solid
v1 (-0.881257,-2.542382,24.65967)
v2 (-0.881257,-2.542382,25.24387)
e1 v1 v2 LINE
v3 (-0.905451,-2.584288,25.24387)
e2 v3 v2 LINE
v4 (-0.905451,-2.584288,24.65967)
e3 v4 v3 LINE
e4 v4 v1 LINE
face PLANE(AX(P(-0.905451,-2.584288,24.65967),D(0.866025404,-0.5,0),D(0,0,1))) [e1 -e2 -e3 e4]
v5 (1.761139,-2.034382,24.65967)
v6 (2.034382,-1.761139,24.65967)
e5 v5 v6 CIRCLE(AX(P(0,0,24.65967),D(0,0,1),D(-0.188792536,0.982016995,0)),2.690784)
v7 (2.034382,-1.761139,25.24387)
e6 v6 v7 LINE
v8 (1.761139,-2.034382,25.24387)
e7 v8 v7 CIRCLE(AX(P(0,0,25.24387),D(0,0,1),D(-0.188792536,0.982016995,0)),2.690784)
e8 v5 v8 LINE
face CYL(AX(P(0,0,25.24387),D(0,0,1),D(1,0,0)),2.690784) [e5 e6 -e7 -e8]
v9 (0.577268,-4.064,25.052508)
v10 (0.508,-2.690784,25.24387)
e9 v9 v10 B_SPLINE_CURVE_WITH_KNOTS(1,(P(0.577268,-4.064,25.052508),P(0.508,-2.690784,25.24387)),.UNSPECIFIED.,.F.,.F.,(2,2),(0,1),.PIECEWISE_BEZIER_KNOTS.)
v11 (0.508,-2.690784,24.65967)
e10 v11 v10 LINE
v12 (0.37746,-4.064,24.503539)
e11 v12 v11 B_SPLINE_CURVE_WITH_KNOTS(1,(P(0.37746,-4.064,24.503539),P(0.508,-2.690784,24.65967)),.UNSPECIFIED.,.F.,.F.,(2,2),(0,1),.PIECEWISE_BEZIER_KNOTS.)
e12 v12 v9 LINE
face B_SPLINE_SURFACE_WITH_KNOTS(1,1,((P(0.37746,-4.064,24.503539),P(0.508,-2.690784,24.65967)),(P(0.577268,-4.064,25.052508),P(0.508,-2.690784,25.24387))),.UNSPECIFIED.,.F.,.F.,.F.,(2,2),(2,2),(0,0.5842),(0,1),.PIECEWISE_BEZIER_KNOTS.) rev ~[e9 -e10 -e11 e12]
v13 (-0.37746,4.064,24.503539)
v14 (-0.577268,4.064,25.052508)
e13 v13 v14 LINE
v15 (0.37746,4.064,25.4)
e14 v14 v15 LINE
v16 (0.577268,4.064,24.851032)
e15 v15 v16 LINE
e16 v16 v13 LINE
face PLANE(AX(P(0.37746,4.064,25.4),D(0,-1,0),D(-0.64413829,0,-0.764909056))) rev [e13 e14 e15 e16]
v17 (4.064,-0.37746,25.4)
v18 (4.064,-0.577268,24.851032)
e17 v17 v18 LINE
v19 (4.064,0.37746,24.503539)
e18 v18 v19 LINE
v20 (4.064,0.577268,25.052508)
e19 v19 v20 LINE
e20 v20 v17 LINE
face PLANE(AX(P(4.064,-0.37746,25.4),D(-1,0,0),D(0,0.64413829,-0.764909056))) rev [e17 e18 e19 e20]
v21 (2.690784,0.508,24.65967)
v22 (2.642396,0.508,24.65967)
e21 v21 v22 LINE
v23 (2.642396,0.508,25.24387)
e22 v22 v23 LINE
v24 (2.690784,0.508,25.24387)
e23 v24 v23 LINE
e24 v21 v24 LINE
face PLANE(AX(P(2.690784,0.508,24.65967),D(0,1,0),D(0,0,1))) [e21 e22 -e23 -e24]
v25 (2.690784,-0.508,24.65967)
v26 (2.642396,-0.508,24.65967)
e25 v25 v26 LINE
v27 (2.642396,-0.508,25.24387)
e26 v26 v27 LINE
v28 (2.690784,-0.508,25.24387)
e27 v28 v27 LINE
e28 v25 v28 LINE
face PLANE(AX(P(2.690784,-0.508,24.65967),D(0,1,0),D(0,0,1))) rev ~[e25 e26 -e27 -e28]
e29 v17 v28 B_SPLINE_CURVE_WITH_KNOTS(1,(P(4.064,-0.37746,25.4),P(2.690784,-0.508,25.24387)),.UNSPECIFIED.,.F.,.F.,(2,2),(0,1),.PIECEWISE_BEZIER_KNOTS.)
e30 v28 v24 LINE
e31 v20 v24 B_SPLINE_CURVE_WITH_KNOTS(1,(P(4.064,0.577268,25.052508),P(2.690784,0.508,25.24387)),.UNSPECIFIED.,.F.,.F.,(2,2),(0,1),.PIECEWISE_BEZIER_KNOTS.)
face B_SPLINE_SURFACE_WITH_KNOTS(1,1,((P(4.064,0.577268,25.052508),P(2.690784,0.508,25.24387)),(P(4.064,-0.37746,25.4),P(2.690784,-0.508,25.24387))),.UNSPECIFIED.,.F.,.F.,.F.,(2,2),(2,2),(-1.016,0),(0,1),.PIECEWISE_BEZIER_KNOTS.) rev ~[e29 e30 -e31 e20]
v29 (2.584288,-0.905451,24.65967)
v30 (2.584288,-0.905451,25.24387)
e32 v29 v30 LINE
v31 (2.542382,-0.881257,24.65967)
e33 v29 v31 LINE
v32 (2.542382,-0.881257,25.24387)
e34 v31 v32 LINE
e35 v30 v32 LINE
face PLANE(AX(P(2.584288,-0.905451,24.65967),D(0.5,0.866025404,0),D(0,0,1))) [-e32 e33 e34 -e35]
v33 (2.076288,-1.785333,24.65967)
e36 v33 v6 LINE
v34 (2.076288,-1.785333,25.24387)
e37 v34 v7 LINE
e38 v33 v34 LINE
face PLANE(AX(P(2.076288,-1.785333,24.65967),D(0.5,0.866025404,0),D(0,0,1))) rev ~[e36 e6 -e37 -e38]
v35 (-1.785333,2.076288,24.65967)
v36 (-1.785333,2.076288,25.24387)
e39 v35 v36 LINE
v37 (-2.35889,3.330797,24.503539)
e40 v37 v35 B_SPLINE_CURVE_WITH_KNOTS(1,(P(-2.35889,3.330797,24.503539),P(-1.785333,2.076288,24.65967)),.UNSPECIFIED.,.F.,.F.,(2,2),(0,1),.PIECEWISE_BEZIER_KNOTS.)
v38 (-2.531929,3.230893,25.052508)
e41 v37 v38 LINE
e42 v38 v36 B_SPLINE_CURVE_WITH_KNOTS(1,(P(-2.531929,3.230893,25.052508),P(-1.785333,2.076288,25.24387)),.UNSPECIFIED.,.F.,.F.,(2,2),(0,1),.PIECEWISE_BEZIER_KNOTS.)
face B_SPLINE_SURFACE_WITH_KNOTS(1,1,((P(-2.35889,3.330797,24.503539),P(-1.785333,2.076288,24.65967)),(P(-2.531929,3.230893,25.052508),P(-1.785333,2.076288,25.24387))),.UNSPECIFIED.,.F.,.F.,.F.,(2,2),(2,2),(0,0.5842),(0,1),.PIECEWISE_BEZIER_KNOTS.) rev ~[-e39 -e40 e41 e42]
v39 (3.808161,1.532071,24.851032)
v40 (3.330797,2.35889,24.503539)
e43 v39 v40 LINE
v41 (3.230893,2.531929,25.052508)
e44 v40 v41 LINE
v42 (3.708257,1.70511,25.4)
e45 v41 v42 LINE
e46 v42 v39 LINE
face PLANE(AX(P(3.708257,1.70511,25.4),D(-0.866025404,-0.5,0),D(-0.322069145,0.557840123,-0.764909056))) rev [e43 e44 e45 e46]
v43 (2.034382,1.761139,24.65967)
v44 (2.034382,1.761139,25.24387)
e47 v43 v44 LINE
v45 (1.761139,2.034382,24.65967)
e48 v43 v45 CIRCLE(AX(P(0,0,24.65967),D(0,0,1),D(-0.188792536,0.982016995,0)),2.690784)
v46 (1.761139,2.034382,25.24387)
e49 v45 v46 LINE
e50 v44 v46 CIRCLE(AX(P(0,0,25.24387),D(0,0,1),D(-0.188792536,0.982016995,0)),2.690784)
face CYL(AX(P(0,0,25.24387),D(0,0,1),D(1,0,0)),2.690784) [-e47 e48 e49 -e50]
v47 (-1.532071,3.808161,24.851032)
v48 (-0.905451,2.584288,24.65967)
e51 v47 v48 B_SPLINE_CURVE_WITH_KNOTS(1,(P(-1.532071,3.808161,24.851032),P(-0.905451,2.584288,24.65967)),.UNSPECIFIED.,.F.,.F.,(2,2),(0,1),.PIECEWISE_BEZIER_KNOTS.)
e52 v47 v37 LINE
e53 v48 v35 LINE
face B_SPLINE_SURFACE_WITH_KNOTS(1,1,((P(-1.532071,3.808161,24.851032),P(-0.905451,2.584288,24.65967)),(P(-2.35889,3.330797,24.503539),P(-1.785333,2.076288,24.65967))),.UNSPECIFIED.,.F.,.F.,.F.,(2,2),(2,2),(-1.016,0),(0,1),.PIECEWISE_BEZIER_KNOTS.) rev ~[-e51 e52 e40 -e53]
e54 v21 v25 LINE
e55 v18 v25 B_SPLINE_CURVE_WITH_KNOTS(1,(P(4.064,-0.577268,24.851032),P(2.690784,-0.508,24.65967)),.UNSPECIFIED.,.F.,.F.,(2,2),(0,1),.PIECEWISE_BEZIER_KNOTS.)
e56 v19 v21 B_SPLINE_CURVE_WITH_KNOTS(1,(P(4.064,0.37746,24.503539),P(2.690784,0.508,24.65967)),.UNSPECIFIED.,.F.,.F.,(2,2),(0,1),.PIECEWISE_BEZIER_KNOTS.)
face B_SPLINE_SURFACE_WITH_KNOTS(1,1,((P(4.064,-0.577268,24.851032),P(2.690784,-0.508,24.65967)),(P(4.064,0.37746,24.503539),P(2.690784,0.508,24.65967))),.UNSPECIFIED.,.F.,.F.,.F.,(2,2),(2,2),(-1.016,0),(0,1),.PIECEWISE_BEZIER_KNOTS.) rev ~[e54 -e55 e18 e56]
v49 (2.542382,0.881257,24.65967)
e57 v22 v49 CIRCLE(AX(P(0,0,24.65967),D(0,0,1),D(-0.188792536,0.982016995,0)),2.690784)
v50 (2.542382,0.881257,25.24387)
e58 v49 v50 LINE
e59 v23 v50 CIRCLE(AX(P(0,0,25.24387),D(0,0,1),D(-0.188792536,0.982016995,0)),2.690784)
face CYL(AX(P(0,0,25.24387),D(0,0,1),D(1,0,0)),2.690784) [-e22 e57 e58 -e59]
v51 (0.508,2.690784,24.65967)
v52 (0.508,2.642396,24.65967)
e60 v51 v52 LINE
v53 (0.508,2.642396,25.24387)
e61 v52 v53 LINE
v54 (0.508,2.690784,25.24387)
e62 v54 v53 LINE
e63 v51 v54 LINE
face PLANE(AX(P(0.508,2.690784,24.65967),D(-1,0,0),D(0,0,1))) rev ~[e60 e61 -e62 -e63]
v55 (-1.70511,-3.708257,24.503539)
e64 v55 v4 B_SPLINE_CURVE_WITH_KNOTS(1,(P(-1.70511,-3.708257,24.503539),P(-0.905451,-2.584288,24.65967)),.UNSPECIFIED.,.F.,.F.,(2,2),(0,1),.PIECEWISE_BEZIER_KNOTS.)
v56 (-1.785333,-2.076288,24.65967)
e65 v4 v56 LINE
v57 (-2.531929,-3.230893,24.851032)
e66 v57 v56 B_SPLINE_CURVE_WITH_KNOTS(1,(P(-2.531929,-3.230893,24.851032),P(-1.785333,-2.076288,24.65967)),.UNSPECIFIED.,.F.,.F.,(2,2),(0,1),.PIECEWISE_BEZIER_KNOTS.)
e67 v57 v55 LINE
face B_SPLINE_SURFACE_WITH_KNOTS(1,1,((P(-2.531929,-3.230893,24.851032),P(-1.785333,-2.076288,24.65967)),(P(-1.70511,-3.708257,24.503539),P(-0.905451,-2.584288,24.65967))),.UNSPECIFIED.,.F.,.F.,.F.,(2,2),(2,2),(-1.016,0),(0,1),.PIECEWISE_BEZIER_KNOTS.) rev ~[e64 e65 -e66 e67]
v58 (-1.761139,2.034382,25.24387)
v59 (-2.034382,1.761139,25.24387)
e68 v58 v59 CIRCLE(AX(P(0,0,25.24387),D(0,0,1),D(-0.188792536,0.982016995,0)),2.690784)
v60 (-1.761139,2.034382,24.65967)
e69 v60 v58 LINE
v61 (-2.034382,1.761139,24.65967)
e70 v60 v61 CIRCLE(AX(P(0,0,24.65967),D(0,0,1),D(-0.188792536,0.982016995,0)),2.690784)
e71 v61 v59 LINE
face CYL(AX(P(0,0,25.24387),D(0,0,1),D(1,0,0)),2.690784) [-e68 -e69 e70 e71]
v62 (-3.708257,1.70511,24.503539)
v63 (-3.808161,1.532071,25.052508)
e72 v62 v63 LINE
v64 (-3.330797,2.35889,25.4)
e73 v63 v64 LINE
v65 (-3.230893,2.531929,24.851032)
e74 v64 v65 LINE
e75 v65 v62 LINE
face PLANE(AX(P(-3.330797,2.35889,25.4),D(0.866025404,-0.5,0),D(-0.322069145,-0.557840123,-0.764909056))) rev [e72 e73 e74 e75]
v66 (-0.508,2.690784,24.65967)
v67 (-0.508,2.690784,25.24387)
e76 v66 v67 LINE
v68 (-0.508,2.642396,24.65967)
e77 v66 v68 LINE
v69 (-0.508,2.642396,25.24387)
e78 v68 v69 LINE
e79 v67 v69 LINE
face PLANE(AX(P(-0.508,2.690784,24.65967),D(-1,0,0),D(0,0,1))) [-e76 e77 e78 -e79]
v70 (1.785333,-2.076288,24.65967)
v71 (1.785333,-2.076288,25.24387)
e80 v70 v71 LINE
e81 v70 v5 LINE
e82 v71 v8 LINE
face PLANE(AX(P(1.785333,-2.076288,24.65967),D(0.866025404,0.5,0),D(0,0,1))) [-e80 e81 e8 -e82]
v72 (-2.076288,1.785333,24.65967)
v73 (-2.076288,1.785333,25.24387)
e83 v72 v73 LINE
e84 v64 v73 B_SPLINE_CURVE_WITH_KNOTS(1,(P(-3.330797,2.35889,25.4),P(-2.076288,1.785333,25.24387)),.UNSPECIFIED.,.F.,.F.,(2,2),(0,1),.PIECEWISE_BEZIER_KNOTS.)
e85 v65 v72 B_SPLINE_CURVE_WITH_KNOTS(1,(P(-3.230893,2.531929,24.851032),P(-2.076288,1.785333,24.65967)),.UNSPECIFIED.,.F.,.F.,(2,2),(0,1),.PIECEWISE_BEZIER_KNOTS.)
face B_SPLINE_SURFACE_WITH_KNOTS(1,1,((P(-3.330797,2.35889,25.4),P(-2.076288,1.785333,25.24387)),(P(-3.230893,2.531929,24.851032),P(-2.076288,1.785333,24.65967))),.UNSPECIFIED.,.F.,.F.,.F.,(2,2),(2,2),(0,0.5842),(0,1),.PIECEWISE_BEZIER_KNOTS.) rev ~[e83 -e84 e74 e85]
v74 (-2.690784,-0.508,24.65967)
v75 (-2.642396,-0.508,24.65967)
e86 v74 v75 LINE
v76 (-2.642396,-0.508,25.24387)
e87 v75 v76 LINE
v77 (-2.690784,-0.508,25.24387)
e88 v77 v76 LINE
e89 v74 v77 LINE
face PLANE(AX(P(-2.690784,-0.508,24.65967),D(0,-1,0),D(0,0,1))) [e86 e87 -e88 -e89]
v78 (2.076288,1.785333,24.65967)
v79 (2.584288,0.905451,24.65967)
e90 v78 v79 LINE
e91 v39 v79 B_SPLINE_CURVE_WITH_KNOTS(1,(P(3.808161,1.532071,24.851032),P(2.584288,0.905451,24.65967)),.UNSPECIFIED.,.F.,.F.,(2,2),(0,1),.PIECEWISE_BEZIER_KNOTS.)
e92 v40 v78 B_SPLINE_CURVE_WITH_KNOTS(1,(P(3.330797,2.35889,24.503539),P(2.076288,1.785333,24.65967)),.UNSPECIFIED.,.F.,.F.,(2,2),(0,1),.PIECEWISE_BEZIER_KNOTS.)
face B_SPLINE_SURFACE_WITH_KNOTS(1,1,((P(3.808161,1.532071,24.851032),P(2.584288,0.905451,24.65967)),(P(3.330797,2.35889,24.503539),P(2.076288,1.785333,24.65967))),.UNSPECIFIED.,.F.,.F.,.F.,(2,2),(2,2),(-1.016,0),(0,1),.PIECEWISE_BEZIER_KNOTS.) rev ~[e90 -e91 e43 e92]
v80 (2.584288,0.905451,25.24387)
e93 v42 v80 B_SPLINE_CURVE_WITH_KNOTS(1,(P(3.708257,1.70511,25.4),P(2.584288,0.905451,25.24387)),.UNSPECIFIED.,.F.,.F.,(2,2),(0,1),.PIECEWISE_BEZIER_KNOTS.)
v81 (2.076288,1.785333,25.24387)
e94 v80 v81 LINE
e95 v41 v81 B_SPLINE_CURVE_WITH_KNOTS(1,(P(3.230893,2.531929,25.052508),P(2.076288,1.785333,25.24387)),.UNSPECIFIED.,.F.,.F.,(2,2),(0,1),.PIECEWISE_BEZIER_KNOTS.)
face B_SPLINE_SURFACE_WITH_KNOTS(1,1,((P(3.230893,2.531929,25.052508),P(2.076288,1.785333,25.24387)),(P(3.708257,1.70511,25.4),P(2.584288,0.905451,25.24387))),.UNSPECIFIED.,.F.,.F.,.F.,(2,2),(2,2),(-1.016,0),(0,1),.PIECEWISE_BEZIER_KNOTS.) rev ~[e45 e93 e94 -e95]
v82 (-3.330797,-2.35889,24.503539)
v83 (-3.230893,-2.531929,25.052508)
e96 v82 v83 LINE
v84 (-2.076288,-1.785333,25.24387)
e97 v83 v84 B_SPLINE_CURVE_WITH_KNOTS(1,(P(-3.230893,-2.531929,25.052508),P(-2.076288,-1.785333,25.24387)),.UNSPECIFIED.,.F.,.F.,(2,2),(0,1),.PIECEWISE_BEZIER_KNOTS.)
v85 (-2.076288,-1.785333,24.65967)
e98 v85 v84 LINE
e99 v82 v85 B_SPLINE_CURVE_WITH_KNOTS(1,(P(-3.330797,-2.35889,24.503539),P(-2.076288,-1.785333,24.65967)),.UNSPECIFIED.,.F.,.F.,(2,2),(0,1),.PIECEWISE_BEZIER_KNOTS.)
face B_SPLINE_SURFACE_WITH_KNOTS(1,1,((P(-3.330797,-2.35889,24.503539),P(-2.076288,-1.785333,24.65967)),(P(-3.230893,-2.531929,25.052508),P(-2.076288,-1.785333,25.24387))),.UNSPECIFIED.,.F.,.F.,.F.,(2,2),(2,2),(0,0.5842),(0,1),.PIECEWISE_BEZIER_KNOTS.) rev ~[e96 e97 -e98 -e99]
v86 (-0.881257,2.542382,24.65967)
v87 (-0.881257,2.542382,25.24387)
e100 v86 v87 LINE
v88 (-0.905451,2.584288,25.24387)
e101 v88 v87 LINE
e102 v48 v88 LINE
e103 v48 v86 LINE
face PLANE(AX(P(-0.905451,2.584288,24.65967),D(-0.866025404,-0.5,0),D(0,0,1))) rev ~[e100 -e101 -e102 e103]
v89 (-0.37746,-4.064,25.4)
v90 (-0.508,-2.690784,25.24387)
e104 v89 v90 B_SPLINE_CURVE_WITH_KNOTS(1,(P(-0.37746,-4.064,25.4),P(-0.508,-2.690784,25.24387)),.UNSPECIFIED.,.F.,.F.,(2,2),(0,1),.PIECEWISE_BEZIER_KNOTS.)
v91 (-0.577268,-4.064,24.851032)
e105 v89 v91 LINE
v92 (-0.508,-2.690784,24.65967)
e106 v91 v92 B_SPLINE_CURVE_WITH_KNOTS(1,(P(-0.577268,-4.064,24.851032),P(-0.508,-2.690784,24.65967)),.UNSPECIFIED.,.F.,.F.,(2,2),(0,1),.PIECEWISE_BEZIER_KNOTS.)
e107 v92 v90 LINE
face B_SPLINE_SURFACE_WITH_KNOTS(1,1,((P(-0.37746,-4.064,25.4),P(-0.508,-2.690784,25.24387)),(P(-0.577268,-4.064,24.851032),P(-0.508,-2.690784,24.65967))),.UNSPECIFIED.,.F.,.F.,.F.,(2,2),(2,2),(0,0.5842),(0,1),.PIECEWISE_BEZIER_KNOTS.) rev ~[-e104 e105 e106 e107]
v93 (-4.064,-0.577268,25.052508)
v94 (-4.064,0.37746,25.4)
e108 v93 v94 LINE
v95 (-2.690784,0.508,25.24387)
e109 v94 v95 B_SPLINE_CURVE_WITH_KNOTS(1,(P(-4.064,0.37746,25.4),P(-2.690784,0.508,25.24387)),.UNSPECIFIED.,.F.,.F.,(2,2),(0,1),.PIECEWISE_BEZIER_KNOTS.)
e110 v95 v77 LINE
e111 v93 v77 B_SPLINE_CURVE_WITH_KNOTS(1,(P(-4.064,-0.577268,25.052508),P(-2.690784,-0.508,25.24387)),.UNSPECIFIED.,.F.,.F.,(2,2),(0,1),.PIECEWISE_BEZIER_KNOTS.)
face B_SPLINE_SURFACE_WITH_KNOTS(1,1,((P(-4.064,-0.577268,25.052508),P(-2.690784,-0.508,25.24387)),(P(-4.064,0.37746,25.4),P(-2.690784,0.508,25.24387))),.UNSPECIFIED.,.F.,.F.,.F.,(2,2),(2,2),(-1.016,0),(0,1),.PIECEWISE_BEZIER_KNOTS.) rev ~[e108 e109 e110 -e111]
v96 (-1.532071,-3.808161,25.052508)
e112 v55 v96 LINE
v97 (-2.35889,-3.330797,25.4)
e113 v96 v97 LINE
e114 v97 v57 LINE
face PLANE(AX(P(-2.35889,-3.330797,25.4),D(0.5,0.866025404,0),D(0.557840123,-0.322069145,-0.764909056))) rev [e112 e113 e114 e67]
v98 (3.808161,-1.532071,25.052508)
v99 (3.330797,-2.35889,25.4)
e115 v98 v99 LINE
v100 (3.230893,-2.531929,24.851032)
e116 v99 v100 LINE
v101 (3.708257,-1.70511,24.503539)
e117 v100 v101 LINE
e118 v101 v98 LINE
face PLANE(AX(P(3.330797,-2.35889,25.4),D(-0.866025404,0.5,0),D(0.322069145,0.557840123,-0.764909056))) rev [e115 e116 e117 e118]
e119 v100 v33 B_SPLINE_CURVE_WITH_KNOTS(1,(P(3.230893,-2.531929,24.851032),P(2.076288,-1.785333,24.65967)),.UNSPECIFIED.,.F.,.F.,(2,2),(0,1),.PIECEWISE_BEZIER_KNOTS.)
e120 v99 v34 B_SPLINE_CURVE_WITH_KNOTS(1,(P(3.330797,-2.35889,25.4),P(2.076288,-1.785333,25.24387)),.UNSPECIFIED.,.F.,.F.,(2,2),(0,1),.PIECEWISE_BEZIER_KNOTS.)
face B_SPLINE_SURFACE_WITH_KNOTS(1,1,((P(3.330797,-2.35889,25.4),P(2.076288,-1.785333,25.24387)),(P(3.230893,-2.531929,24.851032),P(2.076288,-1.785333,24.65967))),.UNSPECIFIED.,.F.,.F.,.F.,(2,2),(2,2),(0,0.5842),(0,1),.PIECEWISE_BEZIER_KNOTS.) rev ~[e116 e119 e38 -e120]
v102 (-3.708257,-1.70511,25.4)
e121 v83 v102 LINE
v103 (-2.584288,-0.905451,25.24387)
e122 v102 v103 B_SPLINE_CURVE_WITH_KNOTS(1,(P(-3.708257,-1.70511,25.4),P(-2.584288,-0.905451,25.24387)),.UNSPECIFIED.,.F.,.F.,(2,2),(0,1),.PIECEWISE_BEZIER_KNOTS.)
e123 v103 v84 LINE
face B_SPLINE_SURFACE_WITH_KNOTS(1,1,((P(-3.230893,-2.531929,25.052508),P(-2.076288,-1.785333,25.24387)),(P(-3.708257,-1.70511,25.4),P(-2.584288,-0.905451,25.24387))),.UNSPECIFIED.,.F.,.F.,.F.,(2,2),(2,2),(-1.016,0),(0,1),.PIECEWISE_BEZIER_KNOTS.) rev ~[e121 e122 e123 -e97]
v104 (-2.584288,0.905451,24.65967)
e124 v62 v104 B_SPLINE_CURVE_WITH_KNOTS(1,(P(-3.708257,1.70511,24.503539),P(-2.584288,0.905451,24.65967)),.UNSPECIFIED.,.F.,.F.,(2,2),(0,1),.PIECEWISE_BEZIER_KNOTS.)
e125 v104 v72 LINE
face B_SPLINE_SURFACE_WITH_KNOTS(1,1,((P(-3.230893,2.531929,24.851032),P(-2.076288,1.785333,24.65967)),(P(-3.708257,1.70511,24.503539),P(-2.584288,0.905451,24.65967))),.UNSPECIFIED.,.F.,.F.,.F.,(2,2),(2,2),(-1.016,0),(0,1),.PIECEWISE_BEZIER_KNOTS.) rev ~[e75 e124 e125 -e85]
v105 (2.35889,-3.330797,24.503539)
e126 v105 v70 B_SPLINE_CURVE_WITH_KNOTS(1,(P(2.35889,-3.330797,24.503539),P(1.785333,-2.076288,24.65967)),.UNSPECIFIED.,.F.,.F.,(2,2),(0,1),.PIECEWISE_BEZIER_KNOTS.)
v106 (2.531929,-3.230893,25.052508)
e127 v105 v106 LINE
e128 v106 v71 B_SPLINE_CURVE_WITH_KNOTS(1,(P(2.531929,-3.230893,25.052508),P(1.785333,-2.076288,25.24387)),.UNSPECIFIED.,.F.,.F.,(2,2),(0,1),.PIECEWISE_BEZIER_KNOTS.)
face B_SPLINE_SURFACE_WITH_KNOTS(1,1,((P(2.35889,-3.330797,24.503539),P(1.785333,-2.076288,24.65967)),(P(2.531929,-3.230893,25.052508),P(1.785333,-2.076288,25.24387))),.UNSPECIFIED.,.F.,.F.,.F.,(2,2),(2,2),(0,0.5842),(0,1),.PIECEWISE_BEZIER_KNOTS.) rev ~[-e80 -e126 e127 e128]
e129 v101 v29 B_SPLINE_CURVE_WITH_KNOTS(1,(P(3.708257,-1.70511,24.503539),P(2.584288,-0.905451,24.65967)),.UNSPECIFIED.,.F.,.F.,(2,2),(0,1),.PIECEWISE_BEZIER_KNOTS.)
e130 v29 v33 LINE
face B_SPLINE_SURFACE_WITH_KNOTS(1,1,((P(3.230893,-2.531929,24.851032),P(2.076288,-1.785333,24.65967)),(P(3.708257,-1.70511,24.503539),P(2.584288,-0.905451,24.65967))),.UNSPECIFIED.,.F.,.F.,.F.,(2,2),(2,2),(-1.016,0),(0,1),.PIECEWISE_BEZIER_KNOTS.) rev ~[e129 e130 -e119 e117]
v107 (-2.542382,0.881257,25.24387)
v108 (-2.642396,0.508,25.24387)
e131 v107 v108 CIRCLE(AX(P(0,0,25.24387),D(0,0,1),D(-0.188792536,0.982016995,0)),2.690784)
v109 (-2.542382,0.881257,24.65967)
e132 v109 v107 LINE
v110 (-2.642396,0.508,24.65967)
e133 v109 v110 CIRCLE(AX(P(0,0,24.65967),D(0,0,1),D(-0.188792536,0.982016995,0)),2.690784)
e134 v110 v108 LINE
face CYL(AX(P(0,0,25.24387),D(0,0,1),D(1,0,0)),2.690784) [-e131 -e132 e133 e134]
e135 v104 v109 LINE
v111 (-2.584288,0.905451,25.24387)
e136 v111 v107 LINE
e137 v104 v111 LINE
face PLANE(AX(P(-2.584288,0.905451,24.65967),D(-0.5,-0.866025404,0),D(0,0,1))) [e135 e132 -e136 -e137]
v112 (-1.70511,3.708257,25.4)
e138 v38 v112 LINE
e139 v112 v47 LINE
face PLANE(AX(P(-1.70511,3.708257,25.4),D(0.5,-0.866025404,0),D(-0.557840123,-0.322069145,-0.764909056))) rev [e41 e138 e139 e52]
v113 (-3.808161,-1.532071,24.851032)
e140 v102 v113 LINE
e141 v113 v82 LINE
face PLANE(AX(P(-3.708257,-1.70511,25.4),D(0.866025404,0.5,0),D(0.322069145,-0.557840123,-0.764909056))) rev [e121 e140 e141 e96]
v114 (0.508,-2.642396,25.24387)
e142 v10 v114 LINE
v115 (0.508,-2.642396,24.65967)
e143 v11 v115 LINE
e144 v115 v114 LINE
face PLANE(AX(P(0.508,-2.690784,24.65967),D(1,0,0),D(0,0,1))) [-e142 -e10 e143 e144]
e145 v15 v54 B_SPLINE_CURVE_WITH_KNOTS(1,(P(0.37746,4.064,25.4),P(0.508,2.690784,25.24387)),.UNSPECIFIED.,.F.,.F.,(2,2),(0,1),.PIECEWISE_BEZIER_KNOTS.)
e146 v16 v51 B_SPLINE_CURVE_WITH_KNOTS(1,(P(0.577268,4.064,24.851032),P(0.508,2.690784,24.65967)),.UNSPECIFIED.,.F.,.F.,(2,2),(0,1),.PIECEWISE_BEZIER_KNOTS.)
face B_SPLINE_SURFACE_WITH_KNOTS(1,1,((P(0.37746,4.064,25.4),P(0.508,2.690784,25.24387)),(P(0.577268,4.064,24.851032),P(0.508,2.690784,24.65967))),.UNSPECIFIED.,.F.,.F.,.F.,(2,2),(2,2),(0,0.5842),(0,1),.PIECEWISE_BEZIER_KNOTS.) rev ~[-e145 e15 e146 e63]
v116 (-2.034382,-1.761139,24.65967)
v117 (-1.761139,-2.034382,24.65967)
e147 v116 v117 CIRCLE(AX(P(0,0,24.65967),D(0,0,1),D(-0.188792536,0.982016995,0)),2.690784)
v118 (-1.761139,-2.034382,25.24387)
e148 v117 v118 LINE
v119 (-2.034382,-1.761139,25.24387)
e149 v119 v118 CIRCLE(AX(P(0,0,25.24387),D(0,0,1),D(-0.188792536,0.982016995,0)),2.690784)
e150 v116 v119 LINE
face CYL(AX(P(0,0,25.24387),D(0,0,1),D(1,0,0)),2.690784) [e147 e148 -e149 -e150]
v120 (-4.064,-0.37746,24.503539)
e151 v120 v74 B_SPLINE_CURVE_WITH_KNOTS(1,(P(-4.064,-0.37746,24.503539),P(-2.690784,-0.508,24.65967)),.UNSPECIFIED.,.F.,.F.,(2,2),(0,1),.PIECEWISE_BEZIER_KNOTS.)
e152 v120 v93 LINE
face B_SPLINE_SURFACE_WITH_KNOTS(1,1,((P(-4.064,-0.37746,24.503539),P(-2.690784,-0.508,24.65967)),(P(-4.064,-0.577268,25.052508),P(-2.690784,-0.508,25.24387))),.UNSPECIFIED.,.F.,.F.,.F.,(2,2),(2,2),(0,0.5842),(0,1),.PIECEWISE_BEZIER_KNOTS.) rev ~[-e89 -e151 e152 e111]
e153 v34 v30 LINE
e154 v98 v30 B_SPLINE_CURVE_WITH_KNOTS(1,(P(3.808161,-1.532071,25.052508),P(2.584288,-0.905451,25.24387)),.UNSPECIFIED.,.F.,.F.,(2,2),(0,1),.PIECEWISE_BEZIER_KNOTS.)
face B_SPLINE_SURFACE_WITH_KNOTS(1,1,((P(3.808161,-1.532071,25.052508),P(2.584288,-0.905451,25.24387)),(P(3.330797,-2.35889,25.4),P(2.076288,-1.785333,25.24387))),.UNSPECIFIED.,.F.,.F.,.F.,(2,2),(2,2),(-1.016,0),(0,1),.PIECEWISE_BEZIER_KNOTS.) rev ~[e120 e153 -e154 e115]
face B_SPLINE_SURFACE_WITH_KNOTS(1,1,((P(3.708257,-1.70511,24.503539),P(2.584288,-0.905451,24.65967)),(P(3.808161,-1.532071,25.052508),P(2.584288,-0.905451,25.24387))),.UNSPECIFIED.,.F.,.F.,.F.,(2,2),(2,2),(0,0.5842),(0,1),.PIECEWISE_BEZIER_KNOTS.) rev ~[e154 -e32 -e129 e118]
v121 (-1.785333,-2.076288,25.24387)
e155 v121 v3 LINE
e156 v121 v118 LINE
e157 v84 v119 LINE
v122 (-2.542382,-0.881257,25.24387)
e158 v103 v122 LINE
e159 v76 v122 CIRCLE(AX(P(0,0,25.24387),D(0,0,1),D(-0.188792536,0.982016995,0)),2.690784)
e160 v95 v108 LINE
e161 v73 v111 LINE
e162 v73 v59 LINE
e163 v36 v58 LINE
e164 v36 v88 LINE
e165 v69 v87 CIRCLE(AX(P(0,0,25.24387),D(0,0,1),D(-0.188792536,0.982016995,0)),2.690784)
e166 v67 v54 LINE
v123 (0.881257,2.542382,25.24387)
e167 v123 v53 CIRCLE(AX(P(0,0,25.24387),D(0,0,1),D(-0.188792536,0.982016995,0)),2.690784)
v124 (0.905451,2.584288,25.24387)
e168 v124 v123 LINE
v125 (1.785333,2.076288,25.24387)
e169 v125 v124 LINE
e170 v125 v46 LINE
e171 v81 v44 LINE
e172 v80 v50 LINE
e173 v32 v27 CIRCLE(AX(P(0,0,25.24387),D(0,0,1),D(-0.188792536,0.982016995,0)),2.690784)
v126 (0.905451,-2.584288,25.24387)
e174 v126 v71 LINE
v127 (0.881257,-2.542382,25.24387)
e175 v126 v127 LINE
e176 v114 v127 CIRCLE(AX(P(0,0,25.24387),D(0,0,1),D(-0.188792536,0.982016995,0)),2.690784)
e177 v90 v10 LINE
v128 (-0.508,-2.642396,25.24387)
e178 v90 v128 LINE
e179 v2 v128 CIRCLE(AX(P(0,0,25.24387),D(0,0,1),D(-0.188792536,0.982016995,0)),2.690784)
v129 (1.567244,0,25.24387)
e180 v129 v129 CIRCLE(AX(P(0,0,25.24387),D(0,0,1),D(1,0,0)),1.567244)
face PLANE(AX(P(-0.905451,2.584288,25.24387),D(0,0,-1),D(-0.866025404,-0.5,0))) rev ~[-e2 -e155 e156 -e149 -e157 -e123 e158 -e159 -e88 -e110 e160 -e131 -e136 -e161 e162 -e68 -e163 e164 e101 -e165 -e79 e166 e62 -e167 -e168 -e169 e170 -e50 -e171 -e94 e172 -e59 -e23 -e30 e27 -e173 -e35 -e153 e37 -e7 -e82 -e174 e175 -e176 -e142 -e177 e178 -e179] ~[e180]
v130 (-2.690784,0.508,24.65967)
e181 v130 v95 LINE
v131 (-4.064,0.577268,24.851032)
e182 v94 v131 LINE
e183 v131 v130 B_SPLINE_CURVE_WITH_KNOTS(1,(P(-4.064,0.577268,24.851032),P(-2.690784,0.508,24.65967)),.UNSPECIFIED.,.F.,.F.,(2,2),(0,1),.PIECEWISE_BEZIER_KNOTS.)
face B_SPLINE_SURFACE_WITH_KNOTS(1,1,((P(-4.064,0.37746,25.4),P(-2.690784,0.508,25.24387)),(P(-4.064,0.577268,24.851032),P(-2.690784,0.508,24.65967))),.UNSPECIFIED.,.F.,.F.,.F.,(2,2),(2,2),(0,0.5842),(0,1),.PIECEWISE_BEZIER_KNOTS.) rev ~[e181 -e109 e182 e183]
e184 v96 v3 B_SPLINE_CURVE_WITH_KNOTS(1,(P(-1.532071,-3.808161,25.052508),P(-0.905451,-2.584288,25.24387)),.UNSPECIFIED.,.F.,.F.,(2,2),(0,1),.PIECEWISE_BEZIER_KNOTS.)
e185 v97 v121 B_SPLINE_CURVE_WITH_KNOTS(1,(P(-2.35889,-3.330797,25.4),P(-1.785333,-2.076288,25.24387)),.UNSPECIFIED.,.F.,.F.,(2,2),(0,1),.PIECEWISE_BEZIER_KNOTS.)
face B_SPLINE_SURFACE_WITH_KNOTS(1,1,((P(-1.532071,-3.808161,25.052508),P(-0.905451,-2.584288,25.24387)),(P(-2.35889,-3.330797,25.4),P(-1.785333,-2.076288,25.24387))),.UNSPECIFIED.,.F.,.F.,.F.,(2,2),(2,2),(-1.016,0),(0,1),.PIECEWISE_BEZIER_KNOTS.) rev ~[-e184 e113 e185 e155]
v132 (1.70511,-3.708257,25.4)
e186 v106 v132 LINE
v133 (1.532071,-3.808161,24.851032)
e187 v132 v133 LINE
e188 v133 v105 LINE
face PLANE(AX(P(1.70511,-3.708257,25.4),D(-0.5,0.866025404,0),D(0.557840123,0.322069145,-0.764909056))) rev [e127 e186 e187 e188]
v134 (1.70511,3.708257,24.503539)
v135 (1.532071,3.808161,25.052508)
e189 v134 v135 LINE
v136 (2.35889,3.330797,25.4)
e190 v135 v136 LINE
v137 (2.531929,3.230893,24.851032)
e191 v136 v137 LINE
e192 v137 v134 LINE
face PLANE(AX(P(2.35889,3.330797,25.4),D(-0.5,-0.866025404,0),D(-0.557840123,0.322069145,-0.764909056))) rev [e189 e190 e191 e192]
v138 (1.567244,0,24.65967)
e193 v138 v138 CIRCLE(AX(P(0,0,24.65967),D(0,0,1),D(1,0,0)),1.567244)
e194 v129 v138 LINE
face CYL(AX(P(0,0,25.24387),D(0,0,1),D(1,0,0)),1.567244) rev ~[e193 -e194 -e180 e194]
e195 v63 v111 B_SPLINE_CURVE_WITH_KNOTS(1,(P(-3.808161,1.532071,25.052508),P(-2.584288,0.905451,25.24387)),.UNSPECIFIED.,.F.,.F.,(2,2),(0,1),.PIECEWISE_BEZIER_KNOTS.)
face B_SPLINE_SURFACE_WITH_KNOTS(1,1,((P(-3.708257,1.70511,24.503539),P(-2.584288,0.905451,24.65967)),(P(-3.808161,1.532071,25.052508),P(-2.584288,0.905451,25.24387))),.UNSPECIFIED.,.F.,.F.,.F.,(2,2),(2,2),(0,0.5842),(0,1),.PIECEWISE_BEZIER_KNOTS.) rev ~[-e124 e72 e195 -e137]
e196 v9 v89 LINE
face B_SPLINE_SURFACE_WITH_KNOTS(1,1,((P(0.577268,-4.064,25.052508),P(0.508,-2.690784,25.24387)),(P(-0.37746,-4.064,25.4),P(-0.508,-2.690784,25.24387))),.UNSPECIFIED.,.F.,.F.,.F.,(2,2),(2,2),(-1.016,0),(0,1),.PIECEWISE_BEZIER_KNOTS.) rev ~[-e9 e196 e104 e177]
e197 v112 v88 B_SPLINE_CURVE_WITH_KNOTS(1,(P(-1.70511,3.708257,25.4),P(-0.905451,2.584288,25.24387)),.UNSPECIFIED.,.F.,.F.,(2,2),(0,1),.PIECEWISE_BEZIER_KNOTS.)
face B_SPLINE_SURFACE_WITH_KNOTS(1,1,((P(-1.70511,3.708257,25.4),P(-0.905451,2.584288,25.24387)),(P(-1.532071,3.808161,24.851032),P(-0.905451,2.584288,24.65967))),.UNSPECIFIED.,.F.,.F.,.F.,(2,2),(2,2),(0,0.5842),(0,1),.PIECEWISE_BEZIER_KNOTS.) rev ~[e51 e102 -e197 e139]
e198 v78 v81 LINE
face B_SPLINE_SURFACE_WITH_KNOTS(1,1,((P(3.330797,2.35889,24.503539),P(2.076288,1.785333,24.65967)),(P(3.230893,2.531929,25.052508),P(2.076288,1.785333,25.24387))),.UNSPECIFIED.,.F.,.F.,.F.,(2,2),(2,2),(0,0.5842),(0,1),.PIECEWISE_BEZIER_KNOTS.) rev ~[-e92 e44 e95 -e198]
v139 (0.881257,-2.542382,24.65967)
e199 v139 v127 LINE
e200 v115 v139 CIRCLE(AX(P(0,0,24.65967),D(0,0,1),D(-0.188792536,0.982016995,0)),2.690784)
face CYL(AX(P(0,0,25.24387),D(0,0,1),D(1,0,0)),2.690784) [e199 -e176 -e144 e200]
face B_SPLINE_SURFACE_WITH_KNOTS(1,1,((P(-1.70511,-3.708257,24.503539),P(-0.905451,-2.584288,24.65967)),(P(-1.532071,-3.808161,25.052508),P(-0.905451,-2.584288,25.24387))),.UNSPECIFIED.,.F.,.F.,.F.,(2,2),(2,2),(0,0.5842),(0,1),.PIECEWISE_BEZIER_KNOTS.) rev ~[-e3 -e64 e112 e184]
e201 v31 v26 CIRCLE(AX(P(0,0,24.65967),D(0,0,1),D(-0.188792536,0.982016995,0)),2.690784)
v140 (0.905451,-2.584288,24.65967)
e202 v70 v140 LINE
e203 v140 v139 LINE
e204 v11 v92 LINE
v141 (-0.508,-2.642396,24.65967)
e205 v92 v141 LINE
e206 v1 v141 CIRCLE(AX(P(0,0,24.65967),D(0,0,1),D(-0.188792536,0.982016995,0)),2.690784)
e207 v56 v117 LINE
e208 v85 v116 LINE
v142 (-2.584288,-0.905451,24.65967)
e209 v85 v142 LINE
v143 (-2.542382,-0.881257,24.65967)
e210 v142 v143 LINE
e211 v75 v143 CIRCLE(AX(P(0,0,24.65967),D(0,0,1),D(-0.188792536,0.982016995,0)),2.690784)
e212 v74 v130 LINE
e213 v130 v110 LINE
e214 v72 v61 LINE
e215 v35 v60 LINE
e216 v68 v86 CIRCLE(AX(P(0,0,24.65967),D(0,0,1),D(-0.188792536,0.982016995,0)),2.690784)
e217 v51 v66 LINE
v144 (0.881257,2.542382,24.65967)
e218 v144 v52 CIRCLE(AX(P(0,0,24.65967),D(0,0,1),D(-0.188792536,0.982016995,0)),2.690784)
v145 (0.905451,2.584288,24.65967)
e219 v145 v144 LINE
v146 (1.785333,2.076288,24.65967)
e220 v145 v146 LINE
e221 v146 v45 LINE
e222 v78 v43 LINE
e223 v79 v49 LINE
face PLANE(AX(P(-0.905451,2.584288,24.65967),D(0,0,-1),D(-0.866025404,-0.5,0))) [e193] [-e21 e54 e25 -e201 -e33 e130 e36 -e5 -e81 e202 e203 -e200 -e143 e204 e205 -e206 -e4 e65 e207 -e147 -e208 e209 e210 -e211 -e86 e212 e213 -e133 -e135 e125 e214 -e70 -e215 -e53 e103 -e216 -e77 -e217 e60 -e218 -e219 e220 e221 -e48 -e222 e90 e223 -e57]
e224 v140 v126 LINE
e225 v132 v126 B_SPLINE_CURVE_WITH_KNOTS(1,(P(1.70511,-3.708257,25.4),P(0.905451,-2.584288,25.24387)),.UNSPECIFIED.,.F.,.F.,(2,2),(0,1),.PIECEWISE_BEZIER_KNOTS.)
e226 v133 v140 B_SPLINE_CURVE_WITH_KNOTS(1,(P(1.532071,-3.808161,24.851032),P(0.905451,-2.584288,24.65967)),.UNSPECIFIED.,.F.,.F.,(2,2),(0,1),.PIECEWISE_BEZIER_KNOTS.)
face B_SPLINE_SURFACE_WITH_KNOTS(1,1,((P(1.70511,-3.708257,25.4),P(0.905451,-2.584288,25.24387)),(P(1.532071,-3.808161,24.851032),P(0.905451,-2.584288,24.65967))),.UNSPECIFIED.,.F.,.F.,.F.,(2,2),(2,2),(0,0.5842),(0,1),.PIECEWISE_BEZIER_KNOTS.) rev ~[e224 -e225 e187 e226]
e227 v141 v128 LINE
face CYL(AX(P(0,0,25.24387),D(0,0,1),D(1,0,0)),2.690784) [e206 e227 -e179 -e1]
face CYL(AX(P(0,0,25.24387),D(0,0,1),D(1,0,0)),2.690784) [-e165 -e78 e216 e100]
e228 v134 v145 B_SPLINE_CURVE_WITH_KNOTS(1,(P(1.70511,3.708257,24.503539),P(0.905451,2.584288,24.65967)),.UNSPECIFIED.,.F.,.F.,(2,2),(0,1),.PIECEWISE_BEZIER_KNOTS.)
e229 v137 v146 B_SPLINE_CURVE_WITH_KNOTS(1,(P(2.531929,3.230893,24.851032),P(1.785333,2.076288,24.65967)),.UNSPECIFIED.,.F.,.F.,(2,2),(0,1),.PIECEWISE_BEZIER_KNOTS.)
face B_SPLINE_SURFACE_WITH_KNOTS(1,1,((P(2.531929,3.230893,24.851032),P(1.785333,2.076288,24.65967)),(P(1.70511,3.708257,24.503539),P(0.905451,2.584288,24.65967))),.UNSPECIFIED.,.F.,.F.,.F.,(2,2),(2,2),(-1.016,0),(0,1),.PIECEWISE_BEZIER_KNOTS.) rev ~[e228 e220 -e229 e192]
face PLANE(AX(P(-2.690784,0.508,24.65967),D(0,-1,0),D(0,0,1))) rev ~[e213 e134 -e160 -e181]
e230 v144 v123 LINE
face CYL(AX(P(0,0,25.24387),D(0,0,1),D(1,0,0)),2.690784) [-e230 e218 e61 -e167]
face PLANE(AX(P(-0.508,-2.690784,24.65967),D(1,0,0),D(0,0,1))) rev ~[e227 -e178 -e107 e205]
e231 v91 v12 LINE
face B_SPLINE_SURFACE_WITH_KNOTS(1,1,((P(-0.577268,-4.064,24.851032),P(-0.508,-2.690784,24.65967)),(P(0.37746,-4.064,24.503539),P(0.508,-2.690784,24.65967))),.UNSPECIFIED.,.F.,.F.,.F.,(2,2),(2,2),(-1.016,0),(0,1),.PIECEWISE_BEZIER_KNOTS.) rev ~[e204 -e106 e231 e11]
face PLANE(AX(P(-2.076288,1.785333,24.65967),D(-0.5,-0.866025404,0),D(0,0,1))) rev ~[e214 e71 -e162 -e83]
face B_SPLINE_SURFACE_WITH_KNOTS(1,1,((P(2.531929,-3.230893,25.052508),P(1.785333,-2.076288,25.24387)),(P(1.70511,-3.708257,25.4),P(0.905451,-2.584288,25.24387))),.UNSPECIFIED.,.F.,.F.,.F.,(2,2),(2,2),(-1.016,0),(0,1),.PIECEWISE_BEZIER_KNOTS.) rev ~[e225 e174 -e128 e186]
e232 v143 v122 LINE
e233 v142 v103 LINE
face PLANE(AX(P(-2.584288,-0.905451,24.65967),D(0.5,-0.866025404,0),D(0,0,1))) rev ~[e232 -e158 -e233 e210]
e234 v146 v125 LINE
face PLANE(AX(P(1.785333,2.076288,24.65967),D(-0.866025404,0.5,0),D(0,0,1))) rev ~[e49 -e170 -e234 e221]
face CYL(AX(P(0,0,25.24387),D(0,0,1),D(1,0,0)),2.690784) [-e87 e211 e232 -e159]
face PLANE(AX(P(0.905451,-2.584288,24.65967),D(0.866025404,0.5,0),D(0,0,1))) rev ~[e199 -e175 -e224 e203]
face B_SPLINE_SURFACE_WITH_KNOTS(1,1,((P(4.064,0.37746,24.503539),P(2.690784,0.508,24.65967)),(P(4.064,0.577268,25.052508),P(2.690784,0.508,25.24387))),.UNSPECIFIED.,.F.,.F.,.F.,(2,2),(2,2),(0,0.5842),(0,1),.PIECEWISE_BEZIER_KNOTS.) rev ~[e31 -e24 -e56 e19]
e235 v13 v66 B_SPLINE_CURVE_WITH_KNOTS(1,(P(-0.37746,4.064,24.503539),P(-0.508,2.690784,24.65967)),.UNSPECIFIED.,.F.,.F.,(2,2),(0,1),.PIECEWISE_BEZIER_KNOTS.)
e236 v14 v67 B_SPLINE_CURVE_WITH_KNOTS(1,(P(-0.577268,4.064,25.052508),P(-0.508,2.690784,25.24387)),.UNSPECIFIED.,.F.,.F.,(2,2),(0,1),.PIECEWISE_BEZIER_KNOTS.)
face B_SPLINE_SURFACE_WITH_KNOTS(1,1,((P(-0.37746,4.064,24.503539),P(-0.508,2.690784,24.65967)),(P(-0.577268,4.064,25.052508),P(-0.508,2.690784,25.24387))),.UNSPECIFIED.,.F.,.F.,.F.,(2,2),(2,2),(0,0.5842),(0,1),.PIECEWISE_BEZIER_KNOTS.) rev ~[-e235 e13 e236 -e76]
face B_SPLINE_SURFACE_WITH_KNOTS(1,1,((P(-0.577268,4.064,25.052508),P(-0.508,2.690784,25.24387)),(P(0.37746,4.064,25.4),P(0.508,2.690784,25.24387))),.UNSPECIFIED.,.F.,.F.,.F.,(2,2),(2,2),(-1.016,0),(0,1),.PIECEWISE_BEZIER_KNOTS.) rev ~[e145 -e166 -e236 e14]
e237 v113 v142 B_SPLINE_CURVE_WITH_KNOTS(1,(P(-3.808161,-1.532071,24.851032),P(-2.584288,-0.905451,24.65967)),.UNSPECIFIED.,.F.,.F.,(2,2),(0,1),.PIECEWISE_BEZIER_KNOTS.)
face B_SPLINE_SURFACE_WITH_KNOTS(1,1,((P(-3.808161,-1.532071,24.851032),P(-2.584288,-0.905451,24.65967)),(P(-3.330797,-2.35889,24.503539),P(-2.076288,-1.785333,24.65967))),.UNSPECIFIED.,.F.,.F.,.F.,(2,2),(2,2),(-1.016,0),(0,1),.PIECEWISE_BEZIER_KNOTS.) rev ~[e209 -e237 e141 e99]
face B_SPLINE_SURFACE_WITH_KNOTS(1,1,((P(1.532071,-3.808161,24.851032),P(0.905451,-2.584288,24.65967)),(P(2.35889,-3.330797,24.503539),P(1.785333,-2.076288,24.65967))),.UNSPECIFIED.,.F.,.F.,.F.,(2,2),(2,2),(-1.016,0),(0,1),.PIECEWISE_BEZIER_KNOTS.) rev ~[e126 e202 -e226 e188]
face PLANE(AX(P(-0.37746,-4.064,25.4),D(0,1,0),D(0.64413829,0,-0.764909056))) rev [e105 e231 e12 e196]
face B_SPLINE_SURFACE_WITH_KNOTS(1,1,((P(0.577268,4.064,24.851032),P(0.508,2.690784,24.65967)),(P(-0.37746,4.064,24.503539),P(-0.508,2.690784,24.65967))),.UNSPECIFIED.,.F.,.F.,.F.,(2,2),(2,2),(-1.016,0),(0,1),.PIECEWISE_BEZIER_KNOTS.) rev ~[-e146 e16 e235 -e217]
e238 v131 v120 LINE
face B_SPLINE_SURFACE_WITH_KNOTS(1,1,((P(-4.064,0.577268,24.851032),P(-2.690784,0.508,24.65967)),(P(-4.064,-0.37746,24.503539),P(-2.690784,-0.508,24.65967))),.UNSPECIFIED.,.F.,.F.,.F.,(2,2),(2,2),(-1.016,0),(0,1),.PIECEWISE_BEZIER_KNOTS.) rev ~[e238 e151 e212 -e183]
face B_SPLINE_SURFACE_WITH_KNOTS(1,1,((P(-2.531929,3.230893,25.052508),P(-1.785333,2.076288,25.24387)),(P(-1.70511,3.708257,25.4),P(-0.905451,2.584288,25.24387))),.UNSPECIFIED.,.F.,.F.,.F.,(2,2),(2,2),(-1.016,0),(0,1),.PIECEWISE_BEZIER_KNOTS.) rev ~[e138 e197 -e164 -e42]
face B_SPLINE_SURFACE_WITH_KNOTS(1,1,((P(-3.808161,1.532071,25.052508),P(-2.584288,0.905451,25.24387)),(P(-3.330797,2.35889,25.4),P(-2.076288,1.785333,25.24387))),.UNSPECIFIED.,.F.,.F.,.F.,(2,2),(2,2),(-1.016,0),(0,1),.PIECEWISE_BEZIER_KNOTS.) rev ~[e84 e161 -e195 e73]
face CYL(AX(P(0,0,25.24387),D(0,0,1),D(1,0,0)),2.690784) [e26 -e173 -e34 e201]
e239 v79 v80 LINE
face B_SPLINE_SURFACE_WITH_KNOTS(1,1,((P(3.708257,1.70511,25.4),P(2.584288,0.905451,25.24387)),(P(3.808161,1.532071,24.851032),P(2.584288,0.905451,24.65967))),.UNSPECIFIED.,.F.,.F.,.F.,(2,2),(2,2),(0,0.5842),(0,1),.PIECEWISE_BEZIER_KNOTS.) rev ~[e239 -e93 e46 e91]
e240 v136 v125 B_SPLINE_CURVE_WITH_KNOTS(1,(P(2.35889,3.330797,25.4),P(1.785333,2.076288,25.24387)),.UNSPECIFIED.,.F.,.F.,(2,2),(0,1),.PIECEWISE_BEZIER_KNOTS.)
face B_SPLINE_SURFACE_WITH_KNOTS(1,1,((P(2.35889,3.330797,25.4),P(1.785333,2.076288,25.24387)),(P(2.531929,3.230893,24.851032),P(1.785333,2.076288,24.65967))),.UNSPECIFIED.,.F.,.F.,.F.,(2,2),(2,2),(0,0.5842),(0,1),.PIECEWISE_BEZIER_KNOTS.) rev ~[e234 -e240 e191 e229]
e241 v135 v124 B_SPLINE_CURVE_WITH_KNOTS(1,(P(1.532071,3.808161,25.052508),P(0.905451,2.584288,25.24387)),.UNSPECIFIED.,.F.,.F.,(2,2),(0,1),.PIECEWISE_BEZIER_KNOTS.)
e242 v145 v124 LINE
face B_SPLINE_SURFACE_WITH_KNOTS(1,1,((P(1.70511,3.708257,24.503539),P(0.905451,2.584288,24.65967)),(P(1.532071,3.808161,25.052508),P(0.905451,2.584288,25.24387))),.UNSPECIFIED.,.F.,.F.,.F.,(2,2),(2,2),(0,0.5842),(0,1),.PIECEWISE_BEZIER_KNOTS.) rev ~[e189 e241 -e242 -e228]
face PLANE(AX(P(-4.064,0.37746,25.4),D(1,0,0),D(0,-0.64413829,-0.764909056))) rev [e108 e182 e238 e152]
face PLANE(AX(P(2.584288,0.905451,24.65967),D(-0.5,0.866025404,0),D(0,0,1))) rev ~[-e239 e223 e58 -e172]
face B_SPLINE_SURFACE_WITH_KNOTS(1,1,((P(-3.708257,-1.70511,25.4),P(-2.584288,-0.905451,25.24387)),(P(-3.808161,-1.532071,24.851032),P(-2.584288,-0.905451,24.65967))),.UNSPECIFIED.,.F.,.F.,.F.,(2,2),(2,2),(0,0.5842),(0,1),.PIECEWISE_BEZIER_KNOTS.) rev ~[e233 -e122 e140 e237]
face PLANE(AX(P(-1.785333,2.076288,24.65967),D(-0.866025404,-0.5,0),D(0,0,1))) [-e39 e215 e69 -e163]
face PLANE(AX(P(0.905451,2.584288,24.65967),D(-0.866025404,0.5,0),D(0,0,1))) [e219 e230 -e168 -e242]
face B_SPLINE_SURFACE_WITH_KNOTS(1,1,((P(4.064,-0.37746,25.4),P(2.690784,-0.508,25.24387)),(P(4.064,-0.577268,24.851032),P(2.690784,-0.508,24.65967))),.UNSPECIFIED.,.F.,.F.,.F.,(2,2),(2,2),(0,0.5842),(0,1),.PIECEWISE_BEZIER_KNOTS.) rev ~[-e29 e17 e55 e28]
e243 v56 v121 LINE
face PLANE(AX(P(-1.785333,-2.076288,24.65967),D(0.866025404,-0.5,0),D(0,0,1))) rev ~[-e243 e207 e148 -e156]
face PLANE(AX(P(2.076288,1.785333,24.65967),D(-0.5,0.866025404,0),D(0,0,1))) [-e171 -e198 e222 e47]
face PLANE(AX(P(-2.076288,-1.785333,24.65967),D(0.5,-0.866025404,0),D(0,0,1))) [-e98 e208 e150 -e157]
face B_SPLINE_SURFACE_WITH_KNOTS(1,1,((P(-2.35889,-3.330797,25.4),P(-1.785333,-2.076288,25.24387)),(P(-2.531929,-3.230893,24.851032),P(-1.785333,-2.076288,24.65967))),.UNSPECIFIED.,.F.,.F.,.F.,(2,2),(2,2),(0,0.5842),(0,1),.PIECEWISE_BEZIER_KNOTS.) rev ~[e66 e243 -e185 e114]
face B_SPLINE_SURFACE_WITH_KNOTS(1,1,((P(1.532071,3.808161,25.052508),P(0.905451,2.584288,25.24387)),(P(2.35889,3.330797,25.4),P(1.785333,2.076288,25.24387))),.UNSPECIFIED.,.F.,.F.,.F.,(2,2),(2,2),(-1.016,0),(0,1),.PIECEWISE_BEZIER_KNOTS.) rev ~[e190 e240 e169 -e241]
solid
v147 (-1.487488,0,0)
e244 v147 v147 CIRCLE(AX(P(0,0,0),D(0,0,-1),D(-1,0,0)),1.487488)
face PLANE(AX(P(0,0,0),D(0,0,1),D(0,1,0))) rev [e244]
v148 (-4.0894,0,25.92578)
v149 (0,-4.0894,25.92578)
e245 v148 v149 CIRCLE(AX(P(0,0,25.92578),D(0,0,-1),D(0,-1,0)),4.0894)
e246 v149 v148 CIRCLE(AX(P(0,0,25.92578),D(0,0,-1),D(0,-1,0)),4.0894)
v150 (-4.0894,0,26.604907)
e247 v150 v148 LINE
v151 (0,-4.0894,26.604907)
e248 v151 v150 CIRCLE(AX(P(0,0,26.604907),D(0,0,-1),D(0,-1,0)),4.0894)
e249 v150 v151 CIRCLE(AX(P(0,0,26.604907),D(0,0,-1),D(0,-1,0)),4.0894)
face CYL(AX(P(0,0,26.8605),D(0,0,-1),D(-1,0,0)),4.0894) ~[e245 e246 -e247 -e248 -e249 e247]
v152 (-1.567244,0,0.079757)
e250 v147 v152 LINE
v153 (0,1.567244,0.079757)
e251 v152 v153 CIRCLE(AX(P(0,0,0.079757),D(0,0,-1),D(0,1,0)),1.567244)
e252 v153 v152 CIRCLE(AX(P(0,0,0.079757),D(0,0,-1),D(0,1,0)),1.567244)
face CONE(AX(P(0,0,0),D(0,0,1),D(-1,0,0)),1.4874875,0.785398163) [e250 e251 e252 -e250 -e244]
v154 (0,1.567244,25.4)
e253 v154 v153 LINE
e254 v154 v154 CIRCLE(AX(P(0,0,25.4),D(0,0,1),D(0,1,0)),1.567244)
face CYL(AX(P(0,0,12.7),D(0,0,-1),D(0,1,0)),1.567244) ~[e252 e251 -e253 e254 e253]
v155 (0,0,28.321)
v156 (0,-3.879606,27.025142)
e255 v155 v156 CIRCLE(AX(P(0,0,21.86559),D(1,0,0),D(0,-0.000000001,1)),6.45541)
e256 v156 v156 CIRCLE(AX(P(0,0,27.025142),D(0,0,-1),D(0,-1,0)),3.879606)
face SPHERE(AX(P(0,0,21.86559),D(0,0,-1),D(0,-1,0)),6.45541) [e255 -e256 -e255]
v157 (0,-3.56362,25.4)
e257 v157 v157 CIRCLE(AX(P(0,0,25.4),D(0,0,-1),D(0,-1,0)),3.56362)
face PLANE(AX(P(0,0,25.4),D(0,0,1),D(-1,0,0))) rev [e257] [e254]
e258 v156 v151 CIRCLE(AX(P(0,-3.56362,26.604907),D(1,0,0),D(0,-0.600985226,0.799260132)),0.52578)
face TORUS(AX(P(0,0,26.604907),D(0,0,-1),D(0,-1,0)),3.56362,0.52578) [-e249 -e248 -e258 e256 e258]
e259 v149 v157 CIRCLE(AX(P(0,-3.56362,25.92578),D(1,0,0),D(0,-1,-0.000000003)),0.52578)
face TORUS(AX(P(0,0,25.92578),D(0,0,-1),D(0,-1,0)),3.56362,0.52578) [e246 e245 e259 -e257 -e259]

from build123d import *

# Parameters (mm, degrees)
SKETCH3_W           = 25.4
SKETCH3_H           = 1.567244252
SKETCH38_OUTSIDE_W  = 63.284
SKETCH38_OUTSIDE_H  = 63.284
SKETCH38_OUTSIDE_R  = 1.4874875
EXTRUDE6_DEPTH      = 26.496519549
EXTRUDE6_DRAFT      = -45
SKETCH8_W           = 2.921
SKETCH8_H           = 4.0894
SKETCH21_R          = 2.690784338
SKETCH21_R_2        = 1.567244252
EXTRUDE2_DEPTH      = 0.5842
EXTRUDE3_REACH      = 31.407
EXTRUDE3_END_RADIUS = 2.690784338
SKETCH33_W          = 1.016
SKETCH33_H          = 0.5842
CIRPATTERN4_COUNT   = 12


with BuildPart() as part:
    # Sketch3 → Revolve1 (revolve)
    with BuildSketch(Plane(origin=(0, 0, 0), x_dir=(0, 0, -1), z_dir=(1, 0, 0))):
        with Locations((-12.7, 0.783622126)):
            Rectangle(SKETCH3_W, SKETCH3_H)
    revolve(axis=Axis((0, 0, 0), (0, 0, 1)))


with BuildPart() as extrude6_tool:
    # Sketch38 outside → Extrude6 (with draft: the straight prism first)
    with BuildSketch(Plane(origin=(0, 0, 0), x_dir=(-1, 0, 0), z_dir=(0, 0, -1))):
        Rectangle(SKETCH38_OUTSIDE_W, SKETCH38_OUTSIDE_H)
        Circle(SKETCH38_OUTSIDE_R, mode=Mode.SUBTRACT)
    extrude(amount=-EXTRUDE6_DEPTH)
    # Extrude6: the draft: its side faces are tilted about the plane it starts from
    extrude6_sides = [extrude6_tool.faces().sort_by_distance(p)[0] for p in [
        (0, -31.642, 13.248259774),
        (-31.642, 0, 13.248259774),
        (0, 31.642, 13.248259774),
        (31.642, 0, 13.248259774),
        (1.4874875, 0, 13.248259774),
    ]]
    draft(extrude6_sides, Plane(origin=(0, 0, 0), x_dir=(-1, 0, 0), z_dir=(0, 0, -1)), EXTRUDE6_DRAFT)


with BuildPart() as part_1:
    add(part.part)

    # Extrude6: cut by extrude6_tool
    add(extrude6_tool.part, mode=Mode.SUBTRACT)

    # Sketch8 → Revolve2 (revolve)
    with BuildSketch(Plane(origin=(0, 0, 0), x_dir=(0, 0, -1), z_dir=(1, 0, 0)), mode=Mode.PRIVATE) as revolve2_sk:
        with Locations((-26.8605, 2.0447)):
            Rectangle(SKETCH8_W, SKETCH8_H)
    revolve(revolve2_sk.sketch.rotate(Axis((0, 0, 0), (0, 0, 1)), 90), axis=Axis((0, 0, 0), (0, 0, 1)))

    # Sketch11 → Cut-Revolve3 (revolve, cut)
    with BuildSketch(Plane(origin=(0, 0, 0), x_dir=(0, 0, -1), z_dir=(1, 0, 0)), mode=Mode.PRIVATE) as cut_revolve3_sk:
        with BuildLine():
            Line((-26.604906874, 4.0894), (-25.92578, 4.0894))
            ThreePointArc((-25.92578, 4.0894), (-25.553997397, 3.935402603), (-25.4, 3.56362))
            Line((-25.4, 3.56362), (-24.765, 3.56362))
            Line((-24.765, 3.56362), (-24.765, 4.7244))
            Line((-24.765, 4.7244), (-28.956, 4.7244))
            Line((-28.956, 4.7244), (-28.956, 0))
            Line((-28.956, 0), (-28.321, 0))
            ThreePointArc((-28.321, 0), (-27.988470898, 2.045152261), (-27.025141868, 3.87960601))
            ThreePointArc((-27.025141868, 3.87960601), (-26.839753083, 4.034036694), (-26.604906874, 4.0894))
        make_face()
    revolve(cut_revolve3_sk.sketch.rotate(Axis((0, 0, 28.321), (0, 0, -1)), 180), axis=Axis((0, 0, 28.321), (0, 0, -1)), mode=Mode.SUBTRACT)


with BuildPart() as body_2:
    # Sketch21 → Extrude2 (new body)
    with BuildSketch(Plane.XY.offset(25.243869553)):
        Circle(SKETCH21_R)
        Circle(SKETCH21_R_2, mode=Mode.SUBTRACT)
    extrude(amount=-EXTRUDE2_DEPTH)

    # Extrude3: up to this cylinder (the profile starts outside it)
    extrude3_end = Plane(origin=(0, 0, 24.95177), z_dir=(0, 0, 1)) * Cylinder(EXTRUDE3_END_RADIUS, 69.195568677, mode=Mode.PRIVATE)
    # Sketch33 → Extrude3 (add, up to the surface)
    with BuildSketch(Plane(origin=(0, 2.690784338, 0), x_dir=(-1, 0, 0), z_dir=(0, 1, 0)), mode=Mode.PRIVATE) as extrude3_sk1:
        with Locations((0, 24.951769553)):
            Rectangle(SKETCH33_W, SKETCH33_H)
    extrude3_tool1 = extrude(extrude3_sk1.sketch, amount=-EXTRUDE3_REACH, mode=Mode.PRIVATE) - extrude3_end
    extrude3 = extrude3_tool1.solids().sort_by_distance((0, 2.690784, 24.95177))[0] + extrude3_tool1.solids().sort_by_distance((0, 2.690784, 24.95177))[1]
    add(extrude3)

    # Sketch32 → Loft2 section 0
    with BuildSketch(Plane(origin=(0, 4.064, 0), x_dir=(-1, 0, 0), z_dir=(0, 1, 0))):
        with BuildLine():
            Line((-0.377459767, 25.4), (-0.577267935, 24.851031571))
            Line((-0.577267935, 24.851031571), (0.377459767, 24.503539105))
            Line((0.377459767, 24.503539105), (0.577267935, 25.052507534))
            Line((0.577267935, 25.052507534), (-0.377459767, 25.4))
        make_face()
    # Sketch31 → Loft2 section 1
    with BuildSketch(Plane(origin=(0, 2.690784338, 0), x_dir=(-1, 0, 0), z_dir=(0, 1, 0))):
        with BuildLine():
            Line((-0.508, 25.243869553), (0.508, 25.243869553))
            Line((0.508, 25.243869553), (0.508, 24.659669553))
            Line((0.508, 24.659669553), (-0.508, 24.659669553))
            Line((-0.508, 24.659669553), (-0.508, 25.243869553))
        make_face()
    loft2 = loft()

    # CirPattern4: Extrude3, Loft2 ×12 about axis
    cirpattern4_axis = Axis((0, 0, 24.659669553), (0, 0, 1))
    add([extrude3.rotate(cirpattern4_axis, i * 360 / CIRPATTERN4_COUNT) for i in range(1, CIRPATTERN4_COUNT)])
    add([loft2.rotate(cirpattern4_axis, i * 360 / CIRPATTERN4_COUNT) for i in range(1, CIRPATTERN4_COUNT)])


solid = Compound([part_1.part, body_2.part])
